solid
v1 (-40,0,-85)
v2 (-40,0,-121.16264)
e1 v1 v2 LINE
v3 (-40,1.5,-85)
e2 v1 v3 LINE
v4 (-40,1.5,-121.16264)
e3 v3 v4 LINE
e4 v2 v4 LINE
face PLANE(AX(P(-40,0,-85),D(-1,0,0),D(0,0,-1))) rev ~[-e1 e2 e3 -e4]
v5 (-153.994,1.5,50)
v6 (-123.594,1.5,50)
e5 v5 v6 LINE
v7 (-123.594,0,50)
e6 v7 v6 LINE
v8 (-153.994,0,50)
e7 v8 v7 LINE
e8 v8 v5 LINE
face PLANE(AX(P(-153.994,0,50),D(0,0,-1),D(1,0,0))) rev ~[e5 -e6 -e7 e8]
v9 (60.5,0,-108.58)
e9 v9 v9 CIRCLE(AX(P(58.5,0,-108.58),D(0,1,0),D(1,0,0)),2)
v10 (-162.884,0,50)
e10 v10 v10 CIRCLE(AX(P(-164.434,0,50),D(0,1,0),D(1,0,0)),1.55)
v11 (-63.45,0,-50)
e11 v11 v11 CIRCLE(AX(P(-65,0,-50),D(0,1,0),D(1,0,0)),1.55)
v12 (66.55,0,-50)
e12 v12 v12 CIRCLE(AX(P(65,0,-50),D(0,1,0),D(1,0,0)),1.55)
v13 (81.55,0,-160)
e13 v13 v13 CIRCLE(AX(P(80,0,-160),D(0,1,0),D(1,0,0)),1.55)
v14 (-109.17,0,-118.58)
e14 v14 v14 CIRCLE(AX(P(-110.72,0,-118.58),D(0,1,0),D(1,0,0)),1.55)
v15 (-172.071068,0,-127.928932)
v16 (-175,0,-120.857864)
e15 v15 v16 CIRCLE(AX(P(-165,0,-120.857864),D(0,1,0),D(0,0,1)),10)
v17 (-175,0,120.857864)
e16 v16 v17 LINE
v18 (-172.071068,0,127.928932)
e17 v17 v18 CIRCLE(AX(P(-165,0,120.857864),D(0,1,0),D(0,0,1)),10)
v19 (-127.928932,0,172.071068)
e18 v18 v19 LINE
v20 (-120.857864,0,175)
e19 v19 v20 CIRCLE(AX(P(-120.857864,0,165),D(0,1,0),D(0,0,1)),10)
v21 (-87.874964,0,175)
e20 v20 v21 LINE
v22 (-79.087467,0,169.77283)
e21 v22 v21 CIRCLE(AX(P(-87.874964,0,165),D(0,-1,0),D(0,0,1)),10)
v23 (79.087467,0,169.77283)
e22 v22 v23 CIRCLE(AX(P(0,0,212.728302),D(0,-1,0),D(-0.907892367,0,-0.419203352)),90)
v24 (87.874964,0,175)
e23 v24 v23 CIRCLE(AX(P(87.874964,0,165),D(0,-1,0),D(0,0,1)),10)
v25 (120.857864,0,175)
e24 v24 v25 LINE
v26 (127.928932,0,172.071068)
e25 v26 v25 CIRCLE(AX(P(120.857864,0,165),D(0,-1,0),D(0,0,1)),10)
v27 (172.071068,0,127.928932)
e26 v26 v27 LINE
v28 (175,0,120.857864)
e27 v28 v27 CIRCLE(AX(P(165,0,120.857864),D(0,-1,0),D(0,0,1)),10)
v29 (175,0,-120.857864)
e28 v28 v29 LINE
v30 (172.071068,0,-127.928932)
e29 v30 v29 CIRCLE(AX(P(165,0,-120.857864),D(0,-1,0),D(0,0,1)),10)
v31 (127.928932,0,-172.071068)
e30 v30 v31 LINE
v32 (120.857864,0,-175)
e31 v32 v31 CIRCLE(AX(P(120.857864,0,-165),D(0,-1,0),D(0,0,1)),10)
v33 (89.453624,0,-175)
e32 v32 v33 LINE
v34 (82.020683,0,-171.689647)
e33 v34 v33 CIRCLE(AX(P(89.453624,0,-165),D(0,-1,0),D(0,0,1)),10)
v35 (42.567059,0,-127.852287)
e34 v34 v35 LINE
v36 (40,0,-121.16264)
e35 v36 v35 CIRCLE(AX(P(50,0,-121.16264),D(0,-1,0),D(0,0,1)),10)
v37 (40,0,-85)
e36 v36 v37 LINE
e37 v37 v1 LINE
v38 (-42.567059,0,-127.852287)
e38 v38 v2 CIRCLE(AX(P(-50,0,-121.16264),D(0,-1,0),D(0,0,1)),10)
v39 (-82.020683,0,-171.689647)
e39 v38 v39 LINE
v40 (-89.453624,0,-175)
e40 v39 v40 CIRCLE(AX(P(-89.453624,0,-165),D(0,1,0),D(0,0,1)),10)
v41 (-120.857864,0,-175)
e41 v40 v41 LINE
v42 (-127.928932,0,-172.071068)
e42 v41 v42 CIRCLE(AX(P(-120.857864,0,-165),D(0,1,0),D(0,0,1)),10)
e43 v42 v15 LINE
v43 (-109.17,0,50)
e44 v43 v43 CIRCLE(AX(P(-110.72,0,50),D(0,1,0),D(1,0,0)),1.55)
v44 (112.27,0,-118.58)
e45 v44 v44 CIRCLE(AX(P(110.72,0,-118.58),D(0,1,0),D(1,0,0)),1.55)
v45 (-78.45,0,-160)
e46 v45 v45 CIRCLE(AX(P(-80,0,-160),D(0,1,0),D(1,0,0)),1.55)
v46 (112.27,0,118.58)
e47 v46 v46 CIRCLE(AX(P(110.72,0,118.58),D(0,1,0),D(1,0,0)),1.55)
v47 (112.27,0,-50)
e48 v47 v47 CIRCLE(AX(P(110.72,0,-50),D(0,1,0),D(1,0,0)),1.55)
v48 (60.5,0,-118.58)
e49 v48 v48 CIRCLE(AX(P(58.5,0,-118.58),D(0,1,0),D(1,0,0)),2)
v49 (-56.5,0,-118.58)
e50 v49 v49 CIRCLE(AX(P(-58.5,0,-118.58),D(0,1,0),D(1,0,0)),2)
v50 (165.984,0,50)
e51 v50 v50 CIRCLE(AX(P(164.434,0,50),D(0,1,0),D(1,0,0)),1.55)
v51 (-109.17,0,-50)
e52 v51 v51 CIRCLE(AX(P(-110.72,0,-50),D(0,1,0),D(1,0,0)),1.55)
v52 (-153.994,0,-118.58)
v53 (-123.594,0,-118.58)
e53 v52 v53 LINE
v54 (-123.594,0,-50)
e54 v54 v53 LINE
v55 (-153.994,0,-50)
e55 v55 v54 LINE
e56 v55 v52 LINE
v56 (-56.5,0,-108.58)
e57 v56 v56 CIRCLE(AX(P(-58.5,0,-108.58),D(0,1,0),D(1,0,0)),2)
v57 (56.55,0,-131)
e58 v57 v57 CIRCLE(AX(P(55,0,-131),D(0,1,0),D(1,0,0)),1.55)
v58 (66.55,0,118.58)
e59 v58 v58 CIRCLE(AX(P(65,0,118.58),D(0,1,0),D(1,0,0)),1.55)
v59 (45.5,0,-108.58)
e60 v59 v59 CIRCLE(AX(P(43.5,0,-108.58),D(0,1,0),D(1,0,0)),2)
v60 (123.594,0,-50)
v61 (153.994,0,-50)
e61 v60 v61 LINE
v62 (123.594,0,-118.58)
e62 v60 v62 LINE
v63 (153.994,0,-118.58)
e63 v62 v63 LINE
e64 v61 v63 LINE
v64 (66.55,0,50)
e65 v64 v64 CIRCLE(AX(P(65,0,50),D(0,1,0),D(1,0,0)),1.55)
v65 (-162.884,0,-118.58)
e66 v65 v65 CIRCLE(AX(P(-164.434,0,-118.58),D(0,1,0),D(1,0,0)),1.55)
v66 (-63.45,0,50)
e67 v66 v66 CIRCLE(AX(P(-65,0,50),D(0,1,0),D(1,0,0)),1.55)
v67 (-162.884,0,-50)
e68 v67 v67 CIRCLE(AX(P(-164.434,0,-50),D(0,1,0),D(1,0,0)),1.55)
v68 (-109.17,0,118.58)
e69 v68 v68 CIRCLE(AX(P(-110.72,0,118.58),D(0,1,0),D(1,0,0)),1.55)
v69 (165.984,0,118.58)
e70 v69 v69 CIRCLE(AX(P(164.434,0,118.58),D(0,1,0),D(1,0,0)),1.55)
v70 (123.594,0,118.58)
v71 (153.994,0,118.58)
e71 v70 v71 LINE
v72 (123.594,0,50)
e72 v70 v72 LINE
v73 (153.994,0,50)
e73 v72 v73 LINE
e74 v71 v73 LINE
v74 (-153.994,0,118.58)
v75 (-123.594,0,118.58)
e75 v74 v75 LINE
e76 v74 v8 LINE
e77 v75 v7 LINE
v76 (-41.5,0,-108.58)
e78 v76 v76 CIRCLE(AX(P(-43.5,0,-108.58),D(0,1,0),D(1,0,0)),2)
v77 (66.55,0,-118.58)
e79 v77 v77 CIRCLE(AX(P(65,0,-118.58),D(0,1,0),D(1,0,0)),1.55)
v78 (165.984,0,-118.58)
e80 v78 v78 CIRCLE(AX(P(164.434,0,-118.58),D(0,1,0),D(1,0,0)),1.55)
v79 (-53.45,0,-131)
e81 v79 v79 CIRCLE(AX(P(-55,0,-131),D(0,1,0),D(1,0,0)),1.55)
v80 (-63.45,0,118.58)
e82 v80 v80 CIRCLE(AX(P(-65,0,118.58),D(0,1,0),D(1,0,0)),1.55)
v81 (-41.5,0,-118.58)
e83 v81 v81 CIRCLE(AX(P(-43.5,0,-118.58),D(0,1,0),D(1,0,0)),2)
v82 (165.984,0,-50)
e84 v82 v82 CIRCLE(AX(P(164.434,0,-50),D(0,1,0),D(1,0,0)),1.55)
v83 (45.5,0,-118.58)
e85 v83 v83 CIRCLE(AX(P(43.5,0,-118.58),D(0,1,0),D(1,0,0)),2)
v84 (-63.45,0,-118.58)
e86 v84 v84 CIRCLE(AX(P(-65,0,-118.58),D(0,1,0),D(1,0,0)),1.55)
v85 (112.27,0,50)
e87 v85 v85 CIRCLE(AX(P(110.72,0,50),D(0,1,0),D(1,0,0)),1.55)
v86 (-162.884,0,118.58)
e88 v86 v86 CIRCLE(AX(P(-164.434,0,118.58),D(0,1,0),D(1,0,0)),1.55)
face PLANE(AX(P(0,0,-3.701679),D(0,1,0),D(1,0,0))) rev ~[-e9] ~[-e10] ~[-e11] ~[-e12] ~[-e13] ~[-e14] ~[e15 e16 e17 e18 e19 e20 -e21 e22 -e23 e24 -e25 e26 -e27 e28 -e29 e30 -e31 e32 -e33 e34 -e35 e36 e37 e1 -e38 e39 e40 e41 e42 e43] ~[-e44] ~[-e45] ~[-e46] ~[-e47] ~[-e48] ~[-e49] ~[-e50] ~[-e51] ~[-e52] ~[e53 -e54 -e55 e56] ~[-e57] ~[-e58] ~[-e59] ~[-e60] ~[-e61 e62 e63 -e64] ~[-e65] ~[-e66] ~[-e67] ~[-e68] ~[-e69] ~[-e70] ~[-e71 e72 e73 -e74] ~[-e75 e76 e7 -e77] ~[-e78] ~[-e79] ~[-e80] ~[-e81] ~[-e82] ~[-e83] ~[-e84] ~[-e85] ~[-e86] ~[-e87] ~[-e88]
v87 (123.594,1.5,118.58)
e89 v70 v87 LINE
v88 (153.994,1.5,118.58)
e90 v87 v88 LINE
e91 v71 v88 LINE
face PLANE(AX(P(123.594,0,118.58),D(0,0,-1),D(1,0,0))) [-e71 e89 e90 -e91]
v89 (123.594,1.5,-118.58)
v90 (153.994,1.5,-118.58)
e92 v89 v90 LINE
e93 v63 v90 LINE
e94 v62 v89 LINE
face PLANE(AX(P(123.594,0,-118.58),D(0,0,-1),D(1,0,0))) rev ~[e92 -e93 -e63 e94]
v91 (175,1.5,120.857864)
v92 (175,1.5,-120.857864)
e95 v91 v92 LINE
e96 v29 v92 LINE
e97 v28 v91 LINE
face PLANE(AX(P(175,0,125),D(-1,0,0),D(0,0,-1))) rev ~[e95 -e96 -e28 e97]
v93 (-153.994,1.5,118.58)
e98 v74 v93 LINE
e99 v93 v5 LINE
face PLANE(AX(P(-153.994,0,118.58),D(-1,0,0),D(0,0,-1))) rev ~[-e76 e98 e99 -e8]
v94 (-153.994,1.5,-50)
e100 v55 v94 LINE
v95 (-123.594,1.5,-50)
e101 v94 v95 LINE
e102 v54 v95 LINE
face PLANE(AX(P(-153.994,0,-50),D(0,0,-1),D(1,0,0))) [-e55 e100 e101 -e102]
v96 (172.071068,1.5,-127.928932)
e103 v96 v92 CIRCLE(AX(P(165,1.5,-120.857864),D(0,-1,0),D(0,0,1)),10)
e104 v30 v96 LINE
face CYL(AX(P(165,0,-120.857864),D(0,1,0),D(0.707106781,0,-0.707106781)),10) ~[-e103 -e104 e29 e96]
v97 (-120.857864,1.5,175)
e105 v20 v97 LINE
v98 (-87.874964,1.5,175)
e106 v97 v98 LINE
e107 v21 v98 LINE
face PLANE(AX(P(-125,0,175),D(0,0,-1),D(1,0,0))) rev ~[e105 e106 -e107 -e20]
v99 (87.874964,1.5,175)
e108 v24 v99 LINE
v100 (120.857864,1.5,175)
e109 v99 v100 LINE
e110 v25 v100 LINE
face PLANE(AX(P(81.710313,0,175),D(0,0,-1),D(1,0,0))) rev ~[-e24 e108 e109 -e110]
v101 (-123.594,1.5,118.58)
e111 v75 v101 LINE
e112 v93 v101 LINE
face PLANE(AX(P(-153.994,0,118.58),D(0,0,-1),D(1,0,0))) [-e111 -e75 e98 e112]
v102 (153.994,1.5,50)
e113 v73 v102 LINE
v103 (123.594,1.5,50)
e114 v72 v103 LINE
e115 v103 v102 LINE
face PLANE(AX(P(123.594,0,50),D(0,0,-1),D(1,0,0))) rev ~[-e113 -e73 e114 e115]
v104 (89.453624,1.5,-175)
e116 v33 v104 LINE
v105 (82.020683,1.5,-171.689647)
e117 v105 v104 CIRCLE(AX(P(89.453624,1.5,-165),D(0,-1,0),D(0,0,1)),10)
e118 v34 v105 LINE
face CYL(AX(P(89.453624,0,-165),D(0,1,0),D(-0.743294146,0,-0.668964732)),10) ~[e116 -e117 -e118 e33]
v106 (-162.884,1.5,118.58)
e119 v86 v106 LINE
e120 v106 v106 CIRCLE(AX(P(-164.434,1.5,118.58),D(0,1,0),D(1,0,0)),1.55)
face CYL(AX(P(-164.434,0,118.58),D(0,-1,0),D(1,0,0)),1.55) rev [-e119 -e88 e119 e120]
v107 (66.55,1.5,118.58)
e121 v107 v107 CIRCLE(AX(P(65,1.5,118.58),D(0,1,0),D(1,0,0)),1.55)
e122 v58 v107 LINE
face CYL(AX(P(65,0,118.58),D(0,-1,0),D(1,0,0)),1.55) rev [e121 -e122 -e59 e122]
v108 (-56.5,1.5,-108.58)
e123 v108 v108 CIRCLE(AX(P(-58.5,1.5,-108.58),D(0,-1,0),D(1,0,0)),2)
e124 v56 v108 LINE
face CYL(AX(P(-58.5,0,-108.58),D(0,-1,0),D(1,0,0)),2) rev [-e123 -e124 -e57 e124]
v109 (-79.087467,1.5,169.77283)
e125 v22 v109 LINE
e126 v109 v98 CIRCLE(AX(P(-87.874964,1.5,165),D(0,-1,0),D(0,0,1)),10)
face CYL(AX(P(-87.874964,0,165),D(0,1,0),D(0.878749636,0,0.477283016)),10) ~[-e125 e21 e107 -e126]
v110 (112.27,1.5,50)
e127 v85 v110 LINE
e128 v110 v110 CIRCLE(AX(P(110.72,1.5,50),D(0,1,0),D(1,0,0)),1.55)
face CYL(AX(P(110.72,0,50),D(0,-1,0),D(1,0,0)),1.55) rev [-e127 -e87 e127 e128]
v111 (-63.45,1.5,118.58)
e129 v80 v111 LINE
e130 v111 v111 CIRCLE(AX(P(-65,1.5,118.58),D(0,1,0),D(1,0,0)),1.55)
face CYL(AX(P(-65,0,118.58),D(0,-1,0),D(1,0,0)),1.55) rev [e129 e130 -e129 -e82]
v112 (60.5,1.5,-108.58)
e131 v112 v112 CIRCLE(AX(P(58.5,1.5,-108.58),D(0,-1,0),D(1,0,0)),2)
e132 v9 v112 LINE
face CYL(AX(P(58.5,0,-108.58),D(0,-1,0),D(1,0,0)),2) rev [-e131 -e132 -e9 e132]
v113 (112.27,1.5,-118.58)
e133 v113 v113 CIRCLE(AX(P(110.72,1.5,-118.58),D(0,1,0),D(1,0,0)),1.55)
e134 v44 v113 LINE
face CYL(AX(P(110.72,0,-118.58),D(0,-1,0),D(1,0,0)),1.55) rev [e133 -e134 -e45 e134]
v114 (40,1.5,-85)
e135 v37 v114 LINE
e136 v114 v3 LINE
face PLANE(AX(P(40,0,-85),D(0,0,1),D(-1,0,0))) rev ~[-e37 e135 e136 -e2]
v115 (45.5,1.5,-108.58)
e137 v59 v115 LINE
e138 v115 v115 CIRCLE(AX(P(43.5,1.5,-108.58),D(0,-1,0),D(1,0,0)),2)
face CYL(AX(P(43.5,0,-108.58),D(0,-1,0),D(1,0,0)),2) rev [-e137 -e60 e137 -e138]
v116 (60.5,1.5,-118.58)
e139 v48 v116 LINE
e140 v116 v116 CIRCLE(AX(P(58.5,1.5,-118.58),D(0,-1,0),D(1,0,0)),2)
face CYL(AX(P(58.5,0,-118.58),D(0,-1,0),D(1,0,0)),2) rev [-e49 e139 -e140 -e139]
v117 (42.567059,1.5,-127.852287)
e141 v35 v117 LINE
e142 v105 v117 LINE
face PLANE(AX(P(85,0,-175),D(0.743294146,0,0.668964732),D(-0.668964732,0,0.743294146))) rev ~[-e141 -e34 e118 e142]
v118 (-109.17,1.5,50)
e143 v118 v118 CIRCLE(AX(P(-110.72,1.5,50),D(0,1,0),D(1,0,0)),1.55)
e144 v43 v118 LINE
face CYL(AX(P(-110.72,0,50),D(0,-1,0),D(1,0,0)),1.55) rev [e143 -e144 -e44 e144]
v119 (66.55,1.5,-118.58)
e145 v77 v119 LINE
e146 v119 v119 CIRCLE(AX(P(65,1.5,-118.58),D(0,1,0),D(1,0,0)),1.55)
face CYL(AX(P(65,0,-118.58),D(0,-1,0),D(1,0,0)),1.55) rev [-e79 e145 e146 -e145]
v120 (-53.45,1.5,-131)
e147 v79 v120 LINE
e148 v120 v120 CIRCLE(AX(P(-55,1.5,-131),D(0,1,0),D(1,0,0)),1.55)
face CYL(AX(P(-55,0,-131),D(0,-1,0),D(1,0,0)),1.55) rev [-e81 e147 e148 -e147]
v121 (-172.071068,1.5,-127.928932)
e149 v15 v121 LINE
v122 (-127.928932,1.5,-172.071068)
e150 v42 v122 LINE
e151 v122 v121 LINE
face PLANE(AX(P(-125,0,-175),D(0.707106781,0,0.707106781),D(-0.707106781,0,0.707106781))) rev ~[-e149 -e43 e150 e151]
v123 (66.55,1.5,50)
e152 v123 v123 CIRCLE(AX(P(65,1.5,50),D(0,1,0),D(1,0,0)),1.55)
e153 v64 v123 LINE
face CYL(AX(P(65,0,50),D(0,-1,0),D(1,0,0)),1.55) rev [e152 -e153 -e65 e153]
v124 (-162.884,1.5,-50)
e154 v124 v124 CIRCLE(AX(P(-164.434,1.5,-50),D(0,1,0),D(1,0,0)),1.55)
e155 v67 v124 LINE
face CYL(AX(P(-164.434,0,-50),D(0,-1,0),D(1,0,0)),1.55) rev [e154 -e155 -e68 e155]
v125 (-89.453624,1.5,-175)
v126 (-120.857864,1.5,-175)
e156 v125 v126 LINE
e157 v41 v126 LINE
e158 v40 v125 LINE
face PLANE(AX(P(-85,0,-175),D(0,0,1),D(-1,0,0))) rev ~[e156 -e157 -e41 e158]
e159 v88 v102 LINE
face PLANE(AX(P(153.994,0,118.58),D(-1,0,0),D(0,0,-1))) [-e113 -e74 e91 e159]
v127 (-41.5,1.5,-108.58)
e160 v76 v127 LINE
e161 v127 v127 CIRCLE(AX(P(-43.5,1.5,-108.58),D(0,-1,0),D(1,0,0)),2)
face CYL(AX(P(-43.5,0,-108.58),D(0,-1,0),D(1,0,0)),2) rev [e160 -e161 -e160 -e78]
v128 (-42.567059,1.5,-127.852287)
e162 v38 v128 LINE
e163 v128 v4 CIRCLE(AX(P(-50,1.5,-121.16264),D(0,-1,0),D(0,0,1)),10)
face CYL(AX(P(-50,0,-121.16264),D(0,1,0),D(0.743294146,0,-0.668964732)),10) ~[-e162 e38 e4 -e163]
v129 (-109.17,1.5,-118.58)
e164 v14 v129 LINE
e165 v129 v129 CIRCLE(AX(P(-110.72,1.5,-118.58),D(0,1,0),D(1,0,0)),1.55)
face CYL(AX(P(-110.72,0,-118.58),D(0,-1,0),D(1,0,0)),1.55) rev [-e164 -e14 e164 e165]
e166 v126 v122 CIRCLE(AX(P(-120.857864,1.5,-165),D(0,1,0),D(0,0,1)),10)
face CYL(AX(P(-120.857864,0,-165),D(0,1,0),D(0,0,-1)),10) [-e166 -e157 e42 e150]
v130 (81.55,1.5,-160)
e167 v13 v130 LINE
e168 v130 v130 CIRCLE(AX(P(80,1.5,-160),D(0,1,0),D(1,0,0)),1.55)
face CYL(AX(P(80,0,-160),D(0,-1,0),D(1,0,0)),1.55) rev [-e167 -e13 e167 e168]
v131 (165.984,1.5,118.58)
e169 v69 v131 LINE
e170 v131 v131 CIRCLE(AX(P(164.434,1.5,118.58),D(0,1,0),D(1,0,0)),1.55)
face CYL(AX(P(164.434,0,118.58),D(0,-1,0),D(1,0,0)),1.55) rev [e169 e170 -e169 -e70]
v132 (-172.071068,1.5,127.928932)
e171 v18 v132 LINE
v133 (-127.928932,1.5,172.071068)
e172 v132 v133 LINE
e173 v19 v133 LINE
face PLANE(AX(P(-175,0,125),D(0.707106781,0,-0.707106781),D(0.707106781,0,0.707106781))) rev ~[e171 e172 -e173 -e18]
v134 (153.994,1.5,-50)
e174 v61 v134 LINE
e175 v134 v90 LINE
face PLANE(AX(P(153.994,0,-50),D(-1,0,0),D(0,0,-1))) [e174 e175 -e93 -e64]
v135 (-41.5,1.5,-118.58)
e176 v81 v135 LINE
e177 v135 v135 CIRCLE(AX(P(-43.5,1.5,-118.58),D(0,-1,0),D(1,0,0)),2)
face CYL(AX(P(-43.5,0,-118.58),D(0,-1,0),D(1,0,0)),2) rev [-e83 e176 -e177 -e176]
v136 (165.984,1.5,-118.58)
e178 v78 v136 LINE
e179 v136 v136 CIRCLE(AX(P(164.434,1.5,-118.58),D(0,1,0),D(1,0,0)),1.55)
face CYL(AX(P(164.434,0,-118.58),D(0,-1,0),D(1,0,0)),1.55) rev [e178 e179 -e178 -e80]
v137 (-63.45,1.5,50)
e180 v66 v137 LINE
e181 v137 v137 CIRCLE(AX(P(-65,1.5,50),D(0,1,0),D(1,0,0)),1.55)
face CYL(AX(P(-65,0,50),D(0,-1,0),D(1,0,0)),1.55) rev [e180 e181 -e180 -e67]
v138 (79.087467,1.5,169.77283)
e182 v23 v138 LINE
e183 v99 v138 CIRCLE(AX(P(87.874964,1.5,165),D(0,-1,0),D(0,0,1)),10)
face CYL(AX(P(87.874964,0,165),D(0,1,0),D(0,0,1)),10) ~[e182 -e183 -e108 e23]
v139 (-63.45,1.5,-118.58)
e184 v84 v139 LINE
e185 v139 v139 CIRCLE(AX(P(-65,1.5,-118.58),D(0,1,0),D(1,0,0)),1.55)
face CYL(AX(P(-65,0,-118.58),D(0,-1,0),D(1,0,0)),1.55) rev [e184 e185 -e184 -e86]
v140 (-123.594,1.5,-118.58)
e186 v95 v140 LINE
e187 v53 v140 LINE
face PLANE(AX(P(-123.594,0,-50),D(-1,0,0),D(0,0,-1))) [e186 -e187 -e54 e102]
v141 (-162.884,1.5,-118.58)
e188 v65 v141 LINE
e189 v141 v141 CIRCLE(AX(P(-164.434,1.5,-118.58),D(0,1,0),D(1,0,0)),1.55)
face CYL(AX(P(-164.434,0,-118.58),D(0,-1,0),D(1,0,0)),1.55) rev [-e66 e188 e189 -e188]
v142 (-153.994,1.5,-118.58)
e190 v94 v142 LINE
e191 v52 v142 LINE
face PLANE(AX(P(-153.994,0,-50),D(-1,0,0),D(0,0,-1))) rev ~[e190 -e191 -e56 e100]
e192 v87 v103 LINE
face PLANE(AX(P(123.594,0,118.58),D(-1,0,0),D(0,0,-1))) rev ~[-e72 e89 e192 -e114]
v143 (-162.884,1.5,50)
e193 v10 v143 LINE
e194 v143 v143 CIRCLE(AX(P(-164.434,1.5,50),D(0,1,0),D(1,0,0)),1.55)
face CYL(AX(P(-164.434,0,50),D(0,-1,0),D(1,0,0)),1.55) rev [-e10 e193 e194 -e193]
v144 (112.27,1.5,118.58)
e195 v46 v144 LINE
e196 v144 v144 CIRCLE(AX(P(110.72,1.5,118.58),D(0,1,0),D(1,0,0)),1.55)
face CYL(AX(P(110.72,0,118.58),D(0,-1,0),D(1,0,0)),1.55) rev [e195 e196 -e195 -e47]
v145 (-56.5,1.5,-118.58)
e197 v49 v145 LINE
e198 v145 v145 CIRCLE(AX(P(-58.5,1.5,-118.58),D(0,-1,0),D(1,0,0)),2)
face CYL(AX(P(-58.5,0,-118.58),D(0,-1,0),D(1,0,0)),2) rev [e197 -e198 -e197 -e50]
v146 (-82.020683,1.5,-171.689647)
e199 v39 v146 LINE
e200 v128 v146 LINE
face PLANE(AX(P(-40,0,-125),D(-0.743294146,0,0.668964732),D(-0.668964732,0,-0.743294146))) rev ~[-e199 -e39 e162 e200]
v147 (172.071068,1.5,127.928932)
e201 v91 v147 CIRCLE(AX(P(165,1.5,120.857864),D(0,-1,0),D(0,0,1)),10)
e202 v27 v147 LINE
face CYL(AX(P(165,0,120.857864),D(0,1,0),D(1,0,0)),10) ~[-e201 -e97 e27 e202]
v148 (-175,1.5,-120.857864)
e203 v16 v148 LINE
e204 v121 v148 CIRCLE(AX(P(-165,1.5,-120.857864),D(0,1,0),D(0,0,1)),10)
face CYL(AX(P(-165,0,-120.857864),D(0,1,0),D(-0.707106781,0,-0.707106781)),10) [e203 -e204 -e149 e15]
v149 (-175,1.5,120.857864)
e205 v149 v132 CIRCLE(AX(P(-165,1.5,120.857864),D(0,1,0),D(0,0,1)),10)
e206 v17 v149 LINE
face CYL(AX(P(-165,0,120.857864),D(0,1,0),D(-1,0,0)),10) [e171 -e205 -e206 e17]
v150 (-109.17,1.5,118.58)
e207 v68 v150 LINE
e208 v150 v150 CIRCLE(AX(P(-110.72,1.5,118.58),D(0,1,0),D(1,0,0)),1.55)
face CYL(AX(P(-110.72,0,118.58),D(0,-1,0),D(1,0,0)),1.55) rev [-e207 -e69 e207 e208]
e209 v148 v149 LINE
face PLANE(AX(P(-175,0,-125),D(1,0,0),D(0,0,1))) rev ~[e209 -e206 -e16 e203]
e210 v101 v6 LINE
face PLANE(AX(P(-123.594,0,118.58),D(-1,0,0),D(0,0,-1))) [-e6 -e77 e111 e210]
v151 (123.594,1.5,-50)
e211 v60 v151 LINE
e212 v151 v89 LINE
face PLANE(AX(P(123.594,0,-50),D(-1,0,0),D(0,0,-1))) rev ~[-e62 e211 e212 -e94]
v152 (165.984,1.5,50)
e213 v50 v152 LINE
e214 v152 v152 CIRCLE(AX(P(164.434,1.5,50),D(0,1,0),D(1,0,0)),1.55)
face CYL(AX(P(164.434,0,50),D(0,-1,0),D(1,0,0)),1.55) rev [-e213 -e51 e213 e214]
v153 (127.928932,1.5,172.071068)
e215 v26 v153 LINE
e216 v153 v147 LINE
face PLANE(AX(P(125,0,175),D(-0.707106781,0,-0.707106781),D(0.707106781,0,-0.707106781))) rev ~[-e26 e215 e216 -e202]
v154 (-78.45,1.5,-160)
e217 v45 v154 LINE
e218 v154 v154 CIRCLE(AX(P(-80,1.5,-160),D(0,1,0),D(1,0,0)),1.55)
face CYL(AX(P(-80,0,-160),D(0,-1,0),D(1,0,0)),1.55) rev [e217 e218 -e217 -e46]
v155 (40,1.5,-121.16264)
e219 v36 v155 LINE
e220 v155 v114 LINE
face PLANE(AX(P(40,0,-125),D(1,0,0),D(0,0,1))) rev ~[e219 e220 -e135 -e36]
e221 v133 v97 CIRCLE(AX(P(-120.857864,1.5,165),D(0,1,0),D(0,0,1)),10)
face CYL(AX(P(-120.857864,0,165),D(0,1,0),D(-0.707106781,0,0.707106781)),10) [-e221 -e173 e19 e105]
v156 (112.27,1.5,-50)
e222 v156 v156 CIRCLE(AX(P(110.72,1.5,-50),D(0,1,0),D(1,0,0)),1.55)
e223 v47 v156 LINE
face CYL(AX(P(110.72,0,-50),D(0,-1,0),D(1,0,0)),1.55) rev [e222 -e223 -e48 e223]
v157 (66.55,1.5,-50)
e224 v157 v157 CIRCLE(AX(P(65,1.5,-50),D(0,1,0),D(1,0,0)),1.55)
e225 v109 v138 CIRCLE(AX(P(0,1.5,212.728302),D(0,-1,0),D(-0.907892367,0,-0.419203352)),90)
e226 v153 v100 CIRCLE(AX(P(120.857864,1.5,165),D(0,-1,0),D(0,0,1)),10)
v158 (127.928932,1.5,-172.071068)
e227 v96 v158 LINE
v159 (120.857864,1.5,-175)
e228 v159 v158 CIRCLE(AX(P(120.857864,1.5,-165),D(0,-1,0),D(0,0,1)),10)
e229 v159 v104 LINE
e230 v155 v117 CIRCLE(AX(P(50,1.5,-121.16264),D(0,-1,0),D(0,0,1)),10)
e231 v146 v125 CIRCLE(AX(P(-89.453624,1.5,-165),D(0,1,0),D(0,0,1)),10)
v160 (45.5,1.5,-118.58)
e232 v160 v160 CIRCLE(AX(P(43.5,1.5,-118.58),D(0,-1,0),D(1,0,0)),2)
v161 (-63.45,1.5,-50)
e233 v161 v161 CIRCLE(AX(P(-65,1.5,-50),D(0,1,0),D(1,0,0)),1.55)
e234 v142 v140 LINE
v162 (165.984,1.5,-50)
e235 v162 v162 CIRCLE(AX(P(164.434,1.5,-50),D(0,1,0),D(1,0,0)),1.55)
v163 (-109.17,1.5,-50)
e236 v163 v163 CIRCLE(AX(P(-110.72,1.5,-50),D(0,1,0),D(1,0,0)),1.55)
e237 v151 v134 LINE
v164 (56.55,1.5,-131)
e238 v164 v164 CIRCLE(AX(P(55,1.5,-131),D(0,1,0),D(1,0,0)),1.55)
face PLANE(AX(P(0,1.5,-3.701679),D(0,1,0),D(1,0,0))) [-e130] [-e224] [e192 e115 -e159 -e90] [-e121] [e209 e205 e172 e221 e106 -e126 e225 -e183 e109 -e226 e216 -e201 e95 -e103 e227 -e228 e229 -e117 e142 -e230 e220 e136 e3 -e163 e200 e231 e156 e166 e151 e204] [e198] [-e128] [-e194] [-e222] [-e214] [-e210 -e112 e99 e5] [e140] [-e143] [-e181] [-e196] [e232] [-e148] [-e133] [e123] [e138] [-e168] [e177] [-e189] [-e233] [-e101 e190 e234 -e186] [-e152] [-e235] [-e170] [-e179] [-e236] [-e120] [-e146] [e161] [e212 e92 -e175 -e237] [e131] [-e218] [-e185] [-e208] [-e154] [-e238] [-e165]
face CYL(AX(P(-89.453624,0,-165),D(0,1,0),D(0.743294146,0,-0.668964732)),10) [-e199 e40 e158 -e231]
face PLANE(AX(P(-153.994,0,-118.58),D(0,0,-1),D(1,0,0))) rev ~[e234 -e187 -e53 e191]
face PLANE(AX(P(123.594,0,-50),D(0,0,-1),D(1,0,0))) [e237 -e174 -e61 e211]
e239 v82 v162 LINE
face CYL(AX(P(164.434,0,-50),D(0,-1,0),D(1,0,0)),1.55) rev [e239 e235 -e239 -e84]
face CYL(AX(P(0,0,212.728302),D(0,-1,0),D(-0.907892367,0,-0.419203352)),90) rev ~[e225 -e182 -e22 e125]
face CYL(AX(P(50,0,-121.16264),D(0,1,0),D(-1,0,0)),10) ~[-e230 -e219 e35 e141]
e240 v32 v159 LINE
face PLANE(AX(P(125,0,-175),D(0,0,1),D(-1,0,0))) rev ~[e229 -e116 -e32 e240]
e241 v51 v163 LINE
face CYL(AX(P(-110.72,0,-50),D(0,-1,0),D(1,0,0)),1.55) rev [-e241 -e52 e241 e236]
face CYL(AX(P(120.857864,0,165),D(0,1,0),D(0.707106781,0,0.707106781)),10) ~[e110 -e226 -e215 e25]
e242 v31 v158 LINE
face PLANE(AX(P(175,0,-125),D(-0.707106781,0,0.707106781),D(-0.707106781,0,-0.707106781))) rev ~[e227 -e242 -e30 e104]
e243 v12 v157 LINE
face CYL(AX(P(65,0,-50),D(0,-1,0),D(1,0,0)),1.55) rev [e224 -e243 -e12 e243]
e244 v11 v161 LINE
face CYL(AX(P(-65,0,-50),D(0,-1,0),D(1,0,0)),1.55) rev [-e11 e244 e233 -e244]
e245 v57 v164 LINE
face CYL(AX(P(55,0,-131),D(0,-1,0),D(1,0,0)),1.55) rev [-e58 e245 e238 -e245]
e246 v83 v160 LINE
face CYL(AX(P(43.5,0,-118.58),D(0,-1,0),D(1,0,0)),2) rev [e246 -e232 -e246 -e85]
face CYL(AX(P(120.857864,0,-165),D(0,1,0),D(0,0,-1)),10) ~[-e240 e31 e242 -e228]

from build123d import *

# Parameters (mm, degrees)
SKETCH_1_R          = 1.55
SKETCH_1_W          = 30.4
SKETCH_1_H          = 68.58
EXTRUDE_1_DEPTH     = 1.5
FILLET_1_R          = 10
FILLET_2_R          = 10
FILLET_3_R          = 10
SKETCH_1_5_R        = 2
CUT_EXTRUDE_3_DEPTH = 10


with BuildPart() as part:
    # 草图1 → 凸台-拉伸1 (new body)
    with BuildSketch(Plane(origin=(0, 0, 0), x_dir=(1, 0, 0), z_dir=(0, 1, 0))):
        with BuildLine():
            Line((-125, 175), (-175, 125))
            Line((-175, 125), (-175, -125))
            Line((-175, -125), (-125, -175))
            Line((-125, -175), (-81.710313025, -175))
            ThreePointArc((-81.710313025, -175), (0, -122.728301649), (81.710313025, -175))
            Line((81.710313025, -175), (125, -175))
            Line((125, -175), (175, -125))
            Line((175, -125), (175, 125))
            Line((175, 125), (125, 175))
            Line((125, 175), (85, 175))
            Line((85, 175), (40, 125))
            Line((40, 125), (40, 85))
            Line((40, 85), (-40, 85))
            Line((-40, 85), (-40, 125))
            Line((-40, 125), (-85, 175))
            Line((-85, 175), (-125, 175))
        make_face()
        with Locations((-55, 131)):
            Circle(SKETCH_1_R, mode=Mode.SUBTRACT)
        with Locations((-80, 160)):
            Circle(SKETCH_1_R, mode=Mode.SUBTRACT)
        with Locations((55, 131)):
            Circle(SKETCH_1_R, mode=Mode.SUBTRACT)
        with Locations((80, 160)):
            Circle(SKETCH_1_R, mode=Mode.SUBTRACT)
        with Locations((-65, 118.58)):
            Circle(SKETCH_1_R, mode=Mode.SUBTRACT)
        with Locations((-65, 50)):
            Circle(SKETCH_1_R, mode=Mode.SUBTRACT)
        with Locations((-110.72, 50)):
            Circle(SKETCH_1_R, mode=Mode.SUBTRACT)
        with Locations((-110.72, 118.58)):
            Circle(SKETCH_1_R, mode=Mode.SUBTRACT)
        with Locations((-164.434, 118.58)):
            Circle(SKETCH_1_R, mode=Mode.SUBTRACT)
        with Locations((-164.434, 50)):
            Circle(SKETCH_1_R, mode=Mode.SUBTRACT)
        with Locations((-65, -118.58)):
            Circle(SKETCH_1_R, mode=Mode.SUBTRACT)
        with Locations((-65, -50)):
            Circle(SKETCH_1_R, mode=Mode.SUBTRACT)
        with Locations((-110.72, -50)):
            Circle(SKETCH_1_R, mode=Mode.SUBTRACT)
        with Locations((-110.72, -118.58)):
            Circle(SKETCH_1_R, mode=Mode.SUBTRACT)
        with Locations((-164.434, -50)):
            Circle(SKETCH_1_R, mode=Mode.SUBTRACT)
        with Locations((-164.434, -118.58)):
            Circle(SKETCH_1_R, mode=Mode.SUBTRACT)
        with Locations((65, 50)):
            Circle(SKETCH_1_R, mode=Mode.SUBTRACT)
        with Locations((110.72, 50)):
            Circle(SKETCH_1_R, mode=Mode.SUBTRACT)
        with Locations((110.72, 118.58)):
            Circle(SKETCH_1_R, mode=Mode.SUBTRACT)
        with Locations((65, 118.58)):
            Circle(SKETCH_1_R, mode=Mode.SUBTRACT)
        with Locations((164.434, 118.58)):
            Circle(SKETCH_1_R, mode=Mode.SUBTRACT)
        with Locations((164.434, 50)):
            Circle(SKETCH_1_R, mode=Mode.SUBTRACT)
        with Locations((164.434, -118.58)):
            Circle(SKETCH_1_R, mode=Mode.SUBTRACT)
        with Locations((164.434, -50)):
            Circle(SKETCH_1_R, mode=Mode.SUBTRACT)
        with Locations((110.72, -50)):
            Circle(SKETCH_1_R, mode=Mode.SUBTRACT)
        with Locations((110.72, -118.58)):
            Circle(SKETCH_1_R, mode=Mode.SUBTRACT)
        with Locations((65, -118.58)):
            Circle(SKETCH_1_R, mode=Mode.SUBTRACT)
        with Locations((65, -50)):
            Circle(SKETCH_1_R, mode=Mode.SUBTRACT)
        with Locations((-138.794, 84.29)):
            Rectangle(SKETCH_1_W, SKETCH_1_H, mode=Mode.SUBTRACT)
        with Locations((138.794, 84.29)):
            Rectangle(SKETCH_1_W, SKETCH_1_H, mode=Mode.SUBTRACT)
        with Locations((-138.794, -84.29)):
            Rectangle(SKETCH_1_W, SKETCH_1_H, mode=Mode.SUBTRACT)
        with Locations((138.794, -84.29)):
            Rectangle(SKETCH_1_W, SKETCH_1_H, mode=Mode.SUBTRACT)
    extrude(amount=EXTRUDE_1_DEPTH)

    # 圆角1
    fillet_1_edges = [part.edges().sort_by_distance(p)[0] for p in [
        (-40, 0.75, -125),
    ]]
    fillet(fillet_1_edges, radius=FILLET_1_R)

    # 圆角2
    fillet_2_edges = [part.edges().sort_by_distance(p)[0] for p in [
        (40, 0.75, -125),
    ]]
    fillet(fillet_2_edges, radius=FILLET_2_R)

    # 圆角3
    fillet_3_edges = [part.edges().sort_by_distance(p)[0] for p in [
        (175, 0.75, 125),
        (125, 0.75, 175),
        (81.710313025, 0.75, 175),
        (-81.710313025, 0.75, 175),
        (-125, 0.75, 175),
        (-175, 0.75, 125),
        (-175, 0.75, -125),
        (-125, 0.75, -175),
        (-85, 0.75, -175),
        (85, 0.75, -175),
        (125, 0.75, -175),
        (175, 0.75, -125),
    ]]
    fillet(fillet_3_edges, radius=FILLET_3_R)

    # 草图1<5> → 切除-拉伸3 (cut)
    with BuildSketch(Plane(origin=(0, 0, 0), x_dir=(1, 0, 0), z_dir=(0, 1, 0))):
        with Locations((58.5, 118.58)):
            Circle(SKETCH_1_5_R)
        with Locations((43.5, 118.58)):
            Circle(SKETCH_1_5_R)
        with Locations((58.5, 108.58)):
            Circle(SKETCH_1_5_R)
        with Locations((43.5, 108.58)):
            Circle(SKETCH_1_5_R)
        with Locations((-43.5, 108.58)):
            Circle(SKETCH_1_5_R)
        with Locations((-58.5, 118.58)):
            Circle(SKETCH_1_5_R)
        with Locations((-58.5, 108.58)):
            Circle(SKETCH_1_5_R)
        with Locations((-43.5, 118.58)):
            Circle(SKETCH_1_5_R)
    extrude(amount=CUT_EXTRUDE_3_DEPTH, mode=Mode.SUBTRACT)


solid = part.part
